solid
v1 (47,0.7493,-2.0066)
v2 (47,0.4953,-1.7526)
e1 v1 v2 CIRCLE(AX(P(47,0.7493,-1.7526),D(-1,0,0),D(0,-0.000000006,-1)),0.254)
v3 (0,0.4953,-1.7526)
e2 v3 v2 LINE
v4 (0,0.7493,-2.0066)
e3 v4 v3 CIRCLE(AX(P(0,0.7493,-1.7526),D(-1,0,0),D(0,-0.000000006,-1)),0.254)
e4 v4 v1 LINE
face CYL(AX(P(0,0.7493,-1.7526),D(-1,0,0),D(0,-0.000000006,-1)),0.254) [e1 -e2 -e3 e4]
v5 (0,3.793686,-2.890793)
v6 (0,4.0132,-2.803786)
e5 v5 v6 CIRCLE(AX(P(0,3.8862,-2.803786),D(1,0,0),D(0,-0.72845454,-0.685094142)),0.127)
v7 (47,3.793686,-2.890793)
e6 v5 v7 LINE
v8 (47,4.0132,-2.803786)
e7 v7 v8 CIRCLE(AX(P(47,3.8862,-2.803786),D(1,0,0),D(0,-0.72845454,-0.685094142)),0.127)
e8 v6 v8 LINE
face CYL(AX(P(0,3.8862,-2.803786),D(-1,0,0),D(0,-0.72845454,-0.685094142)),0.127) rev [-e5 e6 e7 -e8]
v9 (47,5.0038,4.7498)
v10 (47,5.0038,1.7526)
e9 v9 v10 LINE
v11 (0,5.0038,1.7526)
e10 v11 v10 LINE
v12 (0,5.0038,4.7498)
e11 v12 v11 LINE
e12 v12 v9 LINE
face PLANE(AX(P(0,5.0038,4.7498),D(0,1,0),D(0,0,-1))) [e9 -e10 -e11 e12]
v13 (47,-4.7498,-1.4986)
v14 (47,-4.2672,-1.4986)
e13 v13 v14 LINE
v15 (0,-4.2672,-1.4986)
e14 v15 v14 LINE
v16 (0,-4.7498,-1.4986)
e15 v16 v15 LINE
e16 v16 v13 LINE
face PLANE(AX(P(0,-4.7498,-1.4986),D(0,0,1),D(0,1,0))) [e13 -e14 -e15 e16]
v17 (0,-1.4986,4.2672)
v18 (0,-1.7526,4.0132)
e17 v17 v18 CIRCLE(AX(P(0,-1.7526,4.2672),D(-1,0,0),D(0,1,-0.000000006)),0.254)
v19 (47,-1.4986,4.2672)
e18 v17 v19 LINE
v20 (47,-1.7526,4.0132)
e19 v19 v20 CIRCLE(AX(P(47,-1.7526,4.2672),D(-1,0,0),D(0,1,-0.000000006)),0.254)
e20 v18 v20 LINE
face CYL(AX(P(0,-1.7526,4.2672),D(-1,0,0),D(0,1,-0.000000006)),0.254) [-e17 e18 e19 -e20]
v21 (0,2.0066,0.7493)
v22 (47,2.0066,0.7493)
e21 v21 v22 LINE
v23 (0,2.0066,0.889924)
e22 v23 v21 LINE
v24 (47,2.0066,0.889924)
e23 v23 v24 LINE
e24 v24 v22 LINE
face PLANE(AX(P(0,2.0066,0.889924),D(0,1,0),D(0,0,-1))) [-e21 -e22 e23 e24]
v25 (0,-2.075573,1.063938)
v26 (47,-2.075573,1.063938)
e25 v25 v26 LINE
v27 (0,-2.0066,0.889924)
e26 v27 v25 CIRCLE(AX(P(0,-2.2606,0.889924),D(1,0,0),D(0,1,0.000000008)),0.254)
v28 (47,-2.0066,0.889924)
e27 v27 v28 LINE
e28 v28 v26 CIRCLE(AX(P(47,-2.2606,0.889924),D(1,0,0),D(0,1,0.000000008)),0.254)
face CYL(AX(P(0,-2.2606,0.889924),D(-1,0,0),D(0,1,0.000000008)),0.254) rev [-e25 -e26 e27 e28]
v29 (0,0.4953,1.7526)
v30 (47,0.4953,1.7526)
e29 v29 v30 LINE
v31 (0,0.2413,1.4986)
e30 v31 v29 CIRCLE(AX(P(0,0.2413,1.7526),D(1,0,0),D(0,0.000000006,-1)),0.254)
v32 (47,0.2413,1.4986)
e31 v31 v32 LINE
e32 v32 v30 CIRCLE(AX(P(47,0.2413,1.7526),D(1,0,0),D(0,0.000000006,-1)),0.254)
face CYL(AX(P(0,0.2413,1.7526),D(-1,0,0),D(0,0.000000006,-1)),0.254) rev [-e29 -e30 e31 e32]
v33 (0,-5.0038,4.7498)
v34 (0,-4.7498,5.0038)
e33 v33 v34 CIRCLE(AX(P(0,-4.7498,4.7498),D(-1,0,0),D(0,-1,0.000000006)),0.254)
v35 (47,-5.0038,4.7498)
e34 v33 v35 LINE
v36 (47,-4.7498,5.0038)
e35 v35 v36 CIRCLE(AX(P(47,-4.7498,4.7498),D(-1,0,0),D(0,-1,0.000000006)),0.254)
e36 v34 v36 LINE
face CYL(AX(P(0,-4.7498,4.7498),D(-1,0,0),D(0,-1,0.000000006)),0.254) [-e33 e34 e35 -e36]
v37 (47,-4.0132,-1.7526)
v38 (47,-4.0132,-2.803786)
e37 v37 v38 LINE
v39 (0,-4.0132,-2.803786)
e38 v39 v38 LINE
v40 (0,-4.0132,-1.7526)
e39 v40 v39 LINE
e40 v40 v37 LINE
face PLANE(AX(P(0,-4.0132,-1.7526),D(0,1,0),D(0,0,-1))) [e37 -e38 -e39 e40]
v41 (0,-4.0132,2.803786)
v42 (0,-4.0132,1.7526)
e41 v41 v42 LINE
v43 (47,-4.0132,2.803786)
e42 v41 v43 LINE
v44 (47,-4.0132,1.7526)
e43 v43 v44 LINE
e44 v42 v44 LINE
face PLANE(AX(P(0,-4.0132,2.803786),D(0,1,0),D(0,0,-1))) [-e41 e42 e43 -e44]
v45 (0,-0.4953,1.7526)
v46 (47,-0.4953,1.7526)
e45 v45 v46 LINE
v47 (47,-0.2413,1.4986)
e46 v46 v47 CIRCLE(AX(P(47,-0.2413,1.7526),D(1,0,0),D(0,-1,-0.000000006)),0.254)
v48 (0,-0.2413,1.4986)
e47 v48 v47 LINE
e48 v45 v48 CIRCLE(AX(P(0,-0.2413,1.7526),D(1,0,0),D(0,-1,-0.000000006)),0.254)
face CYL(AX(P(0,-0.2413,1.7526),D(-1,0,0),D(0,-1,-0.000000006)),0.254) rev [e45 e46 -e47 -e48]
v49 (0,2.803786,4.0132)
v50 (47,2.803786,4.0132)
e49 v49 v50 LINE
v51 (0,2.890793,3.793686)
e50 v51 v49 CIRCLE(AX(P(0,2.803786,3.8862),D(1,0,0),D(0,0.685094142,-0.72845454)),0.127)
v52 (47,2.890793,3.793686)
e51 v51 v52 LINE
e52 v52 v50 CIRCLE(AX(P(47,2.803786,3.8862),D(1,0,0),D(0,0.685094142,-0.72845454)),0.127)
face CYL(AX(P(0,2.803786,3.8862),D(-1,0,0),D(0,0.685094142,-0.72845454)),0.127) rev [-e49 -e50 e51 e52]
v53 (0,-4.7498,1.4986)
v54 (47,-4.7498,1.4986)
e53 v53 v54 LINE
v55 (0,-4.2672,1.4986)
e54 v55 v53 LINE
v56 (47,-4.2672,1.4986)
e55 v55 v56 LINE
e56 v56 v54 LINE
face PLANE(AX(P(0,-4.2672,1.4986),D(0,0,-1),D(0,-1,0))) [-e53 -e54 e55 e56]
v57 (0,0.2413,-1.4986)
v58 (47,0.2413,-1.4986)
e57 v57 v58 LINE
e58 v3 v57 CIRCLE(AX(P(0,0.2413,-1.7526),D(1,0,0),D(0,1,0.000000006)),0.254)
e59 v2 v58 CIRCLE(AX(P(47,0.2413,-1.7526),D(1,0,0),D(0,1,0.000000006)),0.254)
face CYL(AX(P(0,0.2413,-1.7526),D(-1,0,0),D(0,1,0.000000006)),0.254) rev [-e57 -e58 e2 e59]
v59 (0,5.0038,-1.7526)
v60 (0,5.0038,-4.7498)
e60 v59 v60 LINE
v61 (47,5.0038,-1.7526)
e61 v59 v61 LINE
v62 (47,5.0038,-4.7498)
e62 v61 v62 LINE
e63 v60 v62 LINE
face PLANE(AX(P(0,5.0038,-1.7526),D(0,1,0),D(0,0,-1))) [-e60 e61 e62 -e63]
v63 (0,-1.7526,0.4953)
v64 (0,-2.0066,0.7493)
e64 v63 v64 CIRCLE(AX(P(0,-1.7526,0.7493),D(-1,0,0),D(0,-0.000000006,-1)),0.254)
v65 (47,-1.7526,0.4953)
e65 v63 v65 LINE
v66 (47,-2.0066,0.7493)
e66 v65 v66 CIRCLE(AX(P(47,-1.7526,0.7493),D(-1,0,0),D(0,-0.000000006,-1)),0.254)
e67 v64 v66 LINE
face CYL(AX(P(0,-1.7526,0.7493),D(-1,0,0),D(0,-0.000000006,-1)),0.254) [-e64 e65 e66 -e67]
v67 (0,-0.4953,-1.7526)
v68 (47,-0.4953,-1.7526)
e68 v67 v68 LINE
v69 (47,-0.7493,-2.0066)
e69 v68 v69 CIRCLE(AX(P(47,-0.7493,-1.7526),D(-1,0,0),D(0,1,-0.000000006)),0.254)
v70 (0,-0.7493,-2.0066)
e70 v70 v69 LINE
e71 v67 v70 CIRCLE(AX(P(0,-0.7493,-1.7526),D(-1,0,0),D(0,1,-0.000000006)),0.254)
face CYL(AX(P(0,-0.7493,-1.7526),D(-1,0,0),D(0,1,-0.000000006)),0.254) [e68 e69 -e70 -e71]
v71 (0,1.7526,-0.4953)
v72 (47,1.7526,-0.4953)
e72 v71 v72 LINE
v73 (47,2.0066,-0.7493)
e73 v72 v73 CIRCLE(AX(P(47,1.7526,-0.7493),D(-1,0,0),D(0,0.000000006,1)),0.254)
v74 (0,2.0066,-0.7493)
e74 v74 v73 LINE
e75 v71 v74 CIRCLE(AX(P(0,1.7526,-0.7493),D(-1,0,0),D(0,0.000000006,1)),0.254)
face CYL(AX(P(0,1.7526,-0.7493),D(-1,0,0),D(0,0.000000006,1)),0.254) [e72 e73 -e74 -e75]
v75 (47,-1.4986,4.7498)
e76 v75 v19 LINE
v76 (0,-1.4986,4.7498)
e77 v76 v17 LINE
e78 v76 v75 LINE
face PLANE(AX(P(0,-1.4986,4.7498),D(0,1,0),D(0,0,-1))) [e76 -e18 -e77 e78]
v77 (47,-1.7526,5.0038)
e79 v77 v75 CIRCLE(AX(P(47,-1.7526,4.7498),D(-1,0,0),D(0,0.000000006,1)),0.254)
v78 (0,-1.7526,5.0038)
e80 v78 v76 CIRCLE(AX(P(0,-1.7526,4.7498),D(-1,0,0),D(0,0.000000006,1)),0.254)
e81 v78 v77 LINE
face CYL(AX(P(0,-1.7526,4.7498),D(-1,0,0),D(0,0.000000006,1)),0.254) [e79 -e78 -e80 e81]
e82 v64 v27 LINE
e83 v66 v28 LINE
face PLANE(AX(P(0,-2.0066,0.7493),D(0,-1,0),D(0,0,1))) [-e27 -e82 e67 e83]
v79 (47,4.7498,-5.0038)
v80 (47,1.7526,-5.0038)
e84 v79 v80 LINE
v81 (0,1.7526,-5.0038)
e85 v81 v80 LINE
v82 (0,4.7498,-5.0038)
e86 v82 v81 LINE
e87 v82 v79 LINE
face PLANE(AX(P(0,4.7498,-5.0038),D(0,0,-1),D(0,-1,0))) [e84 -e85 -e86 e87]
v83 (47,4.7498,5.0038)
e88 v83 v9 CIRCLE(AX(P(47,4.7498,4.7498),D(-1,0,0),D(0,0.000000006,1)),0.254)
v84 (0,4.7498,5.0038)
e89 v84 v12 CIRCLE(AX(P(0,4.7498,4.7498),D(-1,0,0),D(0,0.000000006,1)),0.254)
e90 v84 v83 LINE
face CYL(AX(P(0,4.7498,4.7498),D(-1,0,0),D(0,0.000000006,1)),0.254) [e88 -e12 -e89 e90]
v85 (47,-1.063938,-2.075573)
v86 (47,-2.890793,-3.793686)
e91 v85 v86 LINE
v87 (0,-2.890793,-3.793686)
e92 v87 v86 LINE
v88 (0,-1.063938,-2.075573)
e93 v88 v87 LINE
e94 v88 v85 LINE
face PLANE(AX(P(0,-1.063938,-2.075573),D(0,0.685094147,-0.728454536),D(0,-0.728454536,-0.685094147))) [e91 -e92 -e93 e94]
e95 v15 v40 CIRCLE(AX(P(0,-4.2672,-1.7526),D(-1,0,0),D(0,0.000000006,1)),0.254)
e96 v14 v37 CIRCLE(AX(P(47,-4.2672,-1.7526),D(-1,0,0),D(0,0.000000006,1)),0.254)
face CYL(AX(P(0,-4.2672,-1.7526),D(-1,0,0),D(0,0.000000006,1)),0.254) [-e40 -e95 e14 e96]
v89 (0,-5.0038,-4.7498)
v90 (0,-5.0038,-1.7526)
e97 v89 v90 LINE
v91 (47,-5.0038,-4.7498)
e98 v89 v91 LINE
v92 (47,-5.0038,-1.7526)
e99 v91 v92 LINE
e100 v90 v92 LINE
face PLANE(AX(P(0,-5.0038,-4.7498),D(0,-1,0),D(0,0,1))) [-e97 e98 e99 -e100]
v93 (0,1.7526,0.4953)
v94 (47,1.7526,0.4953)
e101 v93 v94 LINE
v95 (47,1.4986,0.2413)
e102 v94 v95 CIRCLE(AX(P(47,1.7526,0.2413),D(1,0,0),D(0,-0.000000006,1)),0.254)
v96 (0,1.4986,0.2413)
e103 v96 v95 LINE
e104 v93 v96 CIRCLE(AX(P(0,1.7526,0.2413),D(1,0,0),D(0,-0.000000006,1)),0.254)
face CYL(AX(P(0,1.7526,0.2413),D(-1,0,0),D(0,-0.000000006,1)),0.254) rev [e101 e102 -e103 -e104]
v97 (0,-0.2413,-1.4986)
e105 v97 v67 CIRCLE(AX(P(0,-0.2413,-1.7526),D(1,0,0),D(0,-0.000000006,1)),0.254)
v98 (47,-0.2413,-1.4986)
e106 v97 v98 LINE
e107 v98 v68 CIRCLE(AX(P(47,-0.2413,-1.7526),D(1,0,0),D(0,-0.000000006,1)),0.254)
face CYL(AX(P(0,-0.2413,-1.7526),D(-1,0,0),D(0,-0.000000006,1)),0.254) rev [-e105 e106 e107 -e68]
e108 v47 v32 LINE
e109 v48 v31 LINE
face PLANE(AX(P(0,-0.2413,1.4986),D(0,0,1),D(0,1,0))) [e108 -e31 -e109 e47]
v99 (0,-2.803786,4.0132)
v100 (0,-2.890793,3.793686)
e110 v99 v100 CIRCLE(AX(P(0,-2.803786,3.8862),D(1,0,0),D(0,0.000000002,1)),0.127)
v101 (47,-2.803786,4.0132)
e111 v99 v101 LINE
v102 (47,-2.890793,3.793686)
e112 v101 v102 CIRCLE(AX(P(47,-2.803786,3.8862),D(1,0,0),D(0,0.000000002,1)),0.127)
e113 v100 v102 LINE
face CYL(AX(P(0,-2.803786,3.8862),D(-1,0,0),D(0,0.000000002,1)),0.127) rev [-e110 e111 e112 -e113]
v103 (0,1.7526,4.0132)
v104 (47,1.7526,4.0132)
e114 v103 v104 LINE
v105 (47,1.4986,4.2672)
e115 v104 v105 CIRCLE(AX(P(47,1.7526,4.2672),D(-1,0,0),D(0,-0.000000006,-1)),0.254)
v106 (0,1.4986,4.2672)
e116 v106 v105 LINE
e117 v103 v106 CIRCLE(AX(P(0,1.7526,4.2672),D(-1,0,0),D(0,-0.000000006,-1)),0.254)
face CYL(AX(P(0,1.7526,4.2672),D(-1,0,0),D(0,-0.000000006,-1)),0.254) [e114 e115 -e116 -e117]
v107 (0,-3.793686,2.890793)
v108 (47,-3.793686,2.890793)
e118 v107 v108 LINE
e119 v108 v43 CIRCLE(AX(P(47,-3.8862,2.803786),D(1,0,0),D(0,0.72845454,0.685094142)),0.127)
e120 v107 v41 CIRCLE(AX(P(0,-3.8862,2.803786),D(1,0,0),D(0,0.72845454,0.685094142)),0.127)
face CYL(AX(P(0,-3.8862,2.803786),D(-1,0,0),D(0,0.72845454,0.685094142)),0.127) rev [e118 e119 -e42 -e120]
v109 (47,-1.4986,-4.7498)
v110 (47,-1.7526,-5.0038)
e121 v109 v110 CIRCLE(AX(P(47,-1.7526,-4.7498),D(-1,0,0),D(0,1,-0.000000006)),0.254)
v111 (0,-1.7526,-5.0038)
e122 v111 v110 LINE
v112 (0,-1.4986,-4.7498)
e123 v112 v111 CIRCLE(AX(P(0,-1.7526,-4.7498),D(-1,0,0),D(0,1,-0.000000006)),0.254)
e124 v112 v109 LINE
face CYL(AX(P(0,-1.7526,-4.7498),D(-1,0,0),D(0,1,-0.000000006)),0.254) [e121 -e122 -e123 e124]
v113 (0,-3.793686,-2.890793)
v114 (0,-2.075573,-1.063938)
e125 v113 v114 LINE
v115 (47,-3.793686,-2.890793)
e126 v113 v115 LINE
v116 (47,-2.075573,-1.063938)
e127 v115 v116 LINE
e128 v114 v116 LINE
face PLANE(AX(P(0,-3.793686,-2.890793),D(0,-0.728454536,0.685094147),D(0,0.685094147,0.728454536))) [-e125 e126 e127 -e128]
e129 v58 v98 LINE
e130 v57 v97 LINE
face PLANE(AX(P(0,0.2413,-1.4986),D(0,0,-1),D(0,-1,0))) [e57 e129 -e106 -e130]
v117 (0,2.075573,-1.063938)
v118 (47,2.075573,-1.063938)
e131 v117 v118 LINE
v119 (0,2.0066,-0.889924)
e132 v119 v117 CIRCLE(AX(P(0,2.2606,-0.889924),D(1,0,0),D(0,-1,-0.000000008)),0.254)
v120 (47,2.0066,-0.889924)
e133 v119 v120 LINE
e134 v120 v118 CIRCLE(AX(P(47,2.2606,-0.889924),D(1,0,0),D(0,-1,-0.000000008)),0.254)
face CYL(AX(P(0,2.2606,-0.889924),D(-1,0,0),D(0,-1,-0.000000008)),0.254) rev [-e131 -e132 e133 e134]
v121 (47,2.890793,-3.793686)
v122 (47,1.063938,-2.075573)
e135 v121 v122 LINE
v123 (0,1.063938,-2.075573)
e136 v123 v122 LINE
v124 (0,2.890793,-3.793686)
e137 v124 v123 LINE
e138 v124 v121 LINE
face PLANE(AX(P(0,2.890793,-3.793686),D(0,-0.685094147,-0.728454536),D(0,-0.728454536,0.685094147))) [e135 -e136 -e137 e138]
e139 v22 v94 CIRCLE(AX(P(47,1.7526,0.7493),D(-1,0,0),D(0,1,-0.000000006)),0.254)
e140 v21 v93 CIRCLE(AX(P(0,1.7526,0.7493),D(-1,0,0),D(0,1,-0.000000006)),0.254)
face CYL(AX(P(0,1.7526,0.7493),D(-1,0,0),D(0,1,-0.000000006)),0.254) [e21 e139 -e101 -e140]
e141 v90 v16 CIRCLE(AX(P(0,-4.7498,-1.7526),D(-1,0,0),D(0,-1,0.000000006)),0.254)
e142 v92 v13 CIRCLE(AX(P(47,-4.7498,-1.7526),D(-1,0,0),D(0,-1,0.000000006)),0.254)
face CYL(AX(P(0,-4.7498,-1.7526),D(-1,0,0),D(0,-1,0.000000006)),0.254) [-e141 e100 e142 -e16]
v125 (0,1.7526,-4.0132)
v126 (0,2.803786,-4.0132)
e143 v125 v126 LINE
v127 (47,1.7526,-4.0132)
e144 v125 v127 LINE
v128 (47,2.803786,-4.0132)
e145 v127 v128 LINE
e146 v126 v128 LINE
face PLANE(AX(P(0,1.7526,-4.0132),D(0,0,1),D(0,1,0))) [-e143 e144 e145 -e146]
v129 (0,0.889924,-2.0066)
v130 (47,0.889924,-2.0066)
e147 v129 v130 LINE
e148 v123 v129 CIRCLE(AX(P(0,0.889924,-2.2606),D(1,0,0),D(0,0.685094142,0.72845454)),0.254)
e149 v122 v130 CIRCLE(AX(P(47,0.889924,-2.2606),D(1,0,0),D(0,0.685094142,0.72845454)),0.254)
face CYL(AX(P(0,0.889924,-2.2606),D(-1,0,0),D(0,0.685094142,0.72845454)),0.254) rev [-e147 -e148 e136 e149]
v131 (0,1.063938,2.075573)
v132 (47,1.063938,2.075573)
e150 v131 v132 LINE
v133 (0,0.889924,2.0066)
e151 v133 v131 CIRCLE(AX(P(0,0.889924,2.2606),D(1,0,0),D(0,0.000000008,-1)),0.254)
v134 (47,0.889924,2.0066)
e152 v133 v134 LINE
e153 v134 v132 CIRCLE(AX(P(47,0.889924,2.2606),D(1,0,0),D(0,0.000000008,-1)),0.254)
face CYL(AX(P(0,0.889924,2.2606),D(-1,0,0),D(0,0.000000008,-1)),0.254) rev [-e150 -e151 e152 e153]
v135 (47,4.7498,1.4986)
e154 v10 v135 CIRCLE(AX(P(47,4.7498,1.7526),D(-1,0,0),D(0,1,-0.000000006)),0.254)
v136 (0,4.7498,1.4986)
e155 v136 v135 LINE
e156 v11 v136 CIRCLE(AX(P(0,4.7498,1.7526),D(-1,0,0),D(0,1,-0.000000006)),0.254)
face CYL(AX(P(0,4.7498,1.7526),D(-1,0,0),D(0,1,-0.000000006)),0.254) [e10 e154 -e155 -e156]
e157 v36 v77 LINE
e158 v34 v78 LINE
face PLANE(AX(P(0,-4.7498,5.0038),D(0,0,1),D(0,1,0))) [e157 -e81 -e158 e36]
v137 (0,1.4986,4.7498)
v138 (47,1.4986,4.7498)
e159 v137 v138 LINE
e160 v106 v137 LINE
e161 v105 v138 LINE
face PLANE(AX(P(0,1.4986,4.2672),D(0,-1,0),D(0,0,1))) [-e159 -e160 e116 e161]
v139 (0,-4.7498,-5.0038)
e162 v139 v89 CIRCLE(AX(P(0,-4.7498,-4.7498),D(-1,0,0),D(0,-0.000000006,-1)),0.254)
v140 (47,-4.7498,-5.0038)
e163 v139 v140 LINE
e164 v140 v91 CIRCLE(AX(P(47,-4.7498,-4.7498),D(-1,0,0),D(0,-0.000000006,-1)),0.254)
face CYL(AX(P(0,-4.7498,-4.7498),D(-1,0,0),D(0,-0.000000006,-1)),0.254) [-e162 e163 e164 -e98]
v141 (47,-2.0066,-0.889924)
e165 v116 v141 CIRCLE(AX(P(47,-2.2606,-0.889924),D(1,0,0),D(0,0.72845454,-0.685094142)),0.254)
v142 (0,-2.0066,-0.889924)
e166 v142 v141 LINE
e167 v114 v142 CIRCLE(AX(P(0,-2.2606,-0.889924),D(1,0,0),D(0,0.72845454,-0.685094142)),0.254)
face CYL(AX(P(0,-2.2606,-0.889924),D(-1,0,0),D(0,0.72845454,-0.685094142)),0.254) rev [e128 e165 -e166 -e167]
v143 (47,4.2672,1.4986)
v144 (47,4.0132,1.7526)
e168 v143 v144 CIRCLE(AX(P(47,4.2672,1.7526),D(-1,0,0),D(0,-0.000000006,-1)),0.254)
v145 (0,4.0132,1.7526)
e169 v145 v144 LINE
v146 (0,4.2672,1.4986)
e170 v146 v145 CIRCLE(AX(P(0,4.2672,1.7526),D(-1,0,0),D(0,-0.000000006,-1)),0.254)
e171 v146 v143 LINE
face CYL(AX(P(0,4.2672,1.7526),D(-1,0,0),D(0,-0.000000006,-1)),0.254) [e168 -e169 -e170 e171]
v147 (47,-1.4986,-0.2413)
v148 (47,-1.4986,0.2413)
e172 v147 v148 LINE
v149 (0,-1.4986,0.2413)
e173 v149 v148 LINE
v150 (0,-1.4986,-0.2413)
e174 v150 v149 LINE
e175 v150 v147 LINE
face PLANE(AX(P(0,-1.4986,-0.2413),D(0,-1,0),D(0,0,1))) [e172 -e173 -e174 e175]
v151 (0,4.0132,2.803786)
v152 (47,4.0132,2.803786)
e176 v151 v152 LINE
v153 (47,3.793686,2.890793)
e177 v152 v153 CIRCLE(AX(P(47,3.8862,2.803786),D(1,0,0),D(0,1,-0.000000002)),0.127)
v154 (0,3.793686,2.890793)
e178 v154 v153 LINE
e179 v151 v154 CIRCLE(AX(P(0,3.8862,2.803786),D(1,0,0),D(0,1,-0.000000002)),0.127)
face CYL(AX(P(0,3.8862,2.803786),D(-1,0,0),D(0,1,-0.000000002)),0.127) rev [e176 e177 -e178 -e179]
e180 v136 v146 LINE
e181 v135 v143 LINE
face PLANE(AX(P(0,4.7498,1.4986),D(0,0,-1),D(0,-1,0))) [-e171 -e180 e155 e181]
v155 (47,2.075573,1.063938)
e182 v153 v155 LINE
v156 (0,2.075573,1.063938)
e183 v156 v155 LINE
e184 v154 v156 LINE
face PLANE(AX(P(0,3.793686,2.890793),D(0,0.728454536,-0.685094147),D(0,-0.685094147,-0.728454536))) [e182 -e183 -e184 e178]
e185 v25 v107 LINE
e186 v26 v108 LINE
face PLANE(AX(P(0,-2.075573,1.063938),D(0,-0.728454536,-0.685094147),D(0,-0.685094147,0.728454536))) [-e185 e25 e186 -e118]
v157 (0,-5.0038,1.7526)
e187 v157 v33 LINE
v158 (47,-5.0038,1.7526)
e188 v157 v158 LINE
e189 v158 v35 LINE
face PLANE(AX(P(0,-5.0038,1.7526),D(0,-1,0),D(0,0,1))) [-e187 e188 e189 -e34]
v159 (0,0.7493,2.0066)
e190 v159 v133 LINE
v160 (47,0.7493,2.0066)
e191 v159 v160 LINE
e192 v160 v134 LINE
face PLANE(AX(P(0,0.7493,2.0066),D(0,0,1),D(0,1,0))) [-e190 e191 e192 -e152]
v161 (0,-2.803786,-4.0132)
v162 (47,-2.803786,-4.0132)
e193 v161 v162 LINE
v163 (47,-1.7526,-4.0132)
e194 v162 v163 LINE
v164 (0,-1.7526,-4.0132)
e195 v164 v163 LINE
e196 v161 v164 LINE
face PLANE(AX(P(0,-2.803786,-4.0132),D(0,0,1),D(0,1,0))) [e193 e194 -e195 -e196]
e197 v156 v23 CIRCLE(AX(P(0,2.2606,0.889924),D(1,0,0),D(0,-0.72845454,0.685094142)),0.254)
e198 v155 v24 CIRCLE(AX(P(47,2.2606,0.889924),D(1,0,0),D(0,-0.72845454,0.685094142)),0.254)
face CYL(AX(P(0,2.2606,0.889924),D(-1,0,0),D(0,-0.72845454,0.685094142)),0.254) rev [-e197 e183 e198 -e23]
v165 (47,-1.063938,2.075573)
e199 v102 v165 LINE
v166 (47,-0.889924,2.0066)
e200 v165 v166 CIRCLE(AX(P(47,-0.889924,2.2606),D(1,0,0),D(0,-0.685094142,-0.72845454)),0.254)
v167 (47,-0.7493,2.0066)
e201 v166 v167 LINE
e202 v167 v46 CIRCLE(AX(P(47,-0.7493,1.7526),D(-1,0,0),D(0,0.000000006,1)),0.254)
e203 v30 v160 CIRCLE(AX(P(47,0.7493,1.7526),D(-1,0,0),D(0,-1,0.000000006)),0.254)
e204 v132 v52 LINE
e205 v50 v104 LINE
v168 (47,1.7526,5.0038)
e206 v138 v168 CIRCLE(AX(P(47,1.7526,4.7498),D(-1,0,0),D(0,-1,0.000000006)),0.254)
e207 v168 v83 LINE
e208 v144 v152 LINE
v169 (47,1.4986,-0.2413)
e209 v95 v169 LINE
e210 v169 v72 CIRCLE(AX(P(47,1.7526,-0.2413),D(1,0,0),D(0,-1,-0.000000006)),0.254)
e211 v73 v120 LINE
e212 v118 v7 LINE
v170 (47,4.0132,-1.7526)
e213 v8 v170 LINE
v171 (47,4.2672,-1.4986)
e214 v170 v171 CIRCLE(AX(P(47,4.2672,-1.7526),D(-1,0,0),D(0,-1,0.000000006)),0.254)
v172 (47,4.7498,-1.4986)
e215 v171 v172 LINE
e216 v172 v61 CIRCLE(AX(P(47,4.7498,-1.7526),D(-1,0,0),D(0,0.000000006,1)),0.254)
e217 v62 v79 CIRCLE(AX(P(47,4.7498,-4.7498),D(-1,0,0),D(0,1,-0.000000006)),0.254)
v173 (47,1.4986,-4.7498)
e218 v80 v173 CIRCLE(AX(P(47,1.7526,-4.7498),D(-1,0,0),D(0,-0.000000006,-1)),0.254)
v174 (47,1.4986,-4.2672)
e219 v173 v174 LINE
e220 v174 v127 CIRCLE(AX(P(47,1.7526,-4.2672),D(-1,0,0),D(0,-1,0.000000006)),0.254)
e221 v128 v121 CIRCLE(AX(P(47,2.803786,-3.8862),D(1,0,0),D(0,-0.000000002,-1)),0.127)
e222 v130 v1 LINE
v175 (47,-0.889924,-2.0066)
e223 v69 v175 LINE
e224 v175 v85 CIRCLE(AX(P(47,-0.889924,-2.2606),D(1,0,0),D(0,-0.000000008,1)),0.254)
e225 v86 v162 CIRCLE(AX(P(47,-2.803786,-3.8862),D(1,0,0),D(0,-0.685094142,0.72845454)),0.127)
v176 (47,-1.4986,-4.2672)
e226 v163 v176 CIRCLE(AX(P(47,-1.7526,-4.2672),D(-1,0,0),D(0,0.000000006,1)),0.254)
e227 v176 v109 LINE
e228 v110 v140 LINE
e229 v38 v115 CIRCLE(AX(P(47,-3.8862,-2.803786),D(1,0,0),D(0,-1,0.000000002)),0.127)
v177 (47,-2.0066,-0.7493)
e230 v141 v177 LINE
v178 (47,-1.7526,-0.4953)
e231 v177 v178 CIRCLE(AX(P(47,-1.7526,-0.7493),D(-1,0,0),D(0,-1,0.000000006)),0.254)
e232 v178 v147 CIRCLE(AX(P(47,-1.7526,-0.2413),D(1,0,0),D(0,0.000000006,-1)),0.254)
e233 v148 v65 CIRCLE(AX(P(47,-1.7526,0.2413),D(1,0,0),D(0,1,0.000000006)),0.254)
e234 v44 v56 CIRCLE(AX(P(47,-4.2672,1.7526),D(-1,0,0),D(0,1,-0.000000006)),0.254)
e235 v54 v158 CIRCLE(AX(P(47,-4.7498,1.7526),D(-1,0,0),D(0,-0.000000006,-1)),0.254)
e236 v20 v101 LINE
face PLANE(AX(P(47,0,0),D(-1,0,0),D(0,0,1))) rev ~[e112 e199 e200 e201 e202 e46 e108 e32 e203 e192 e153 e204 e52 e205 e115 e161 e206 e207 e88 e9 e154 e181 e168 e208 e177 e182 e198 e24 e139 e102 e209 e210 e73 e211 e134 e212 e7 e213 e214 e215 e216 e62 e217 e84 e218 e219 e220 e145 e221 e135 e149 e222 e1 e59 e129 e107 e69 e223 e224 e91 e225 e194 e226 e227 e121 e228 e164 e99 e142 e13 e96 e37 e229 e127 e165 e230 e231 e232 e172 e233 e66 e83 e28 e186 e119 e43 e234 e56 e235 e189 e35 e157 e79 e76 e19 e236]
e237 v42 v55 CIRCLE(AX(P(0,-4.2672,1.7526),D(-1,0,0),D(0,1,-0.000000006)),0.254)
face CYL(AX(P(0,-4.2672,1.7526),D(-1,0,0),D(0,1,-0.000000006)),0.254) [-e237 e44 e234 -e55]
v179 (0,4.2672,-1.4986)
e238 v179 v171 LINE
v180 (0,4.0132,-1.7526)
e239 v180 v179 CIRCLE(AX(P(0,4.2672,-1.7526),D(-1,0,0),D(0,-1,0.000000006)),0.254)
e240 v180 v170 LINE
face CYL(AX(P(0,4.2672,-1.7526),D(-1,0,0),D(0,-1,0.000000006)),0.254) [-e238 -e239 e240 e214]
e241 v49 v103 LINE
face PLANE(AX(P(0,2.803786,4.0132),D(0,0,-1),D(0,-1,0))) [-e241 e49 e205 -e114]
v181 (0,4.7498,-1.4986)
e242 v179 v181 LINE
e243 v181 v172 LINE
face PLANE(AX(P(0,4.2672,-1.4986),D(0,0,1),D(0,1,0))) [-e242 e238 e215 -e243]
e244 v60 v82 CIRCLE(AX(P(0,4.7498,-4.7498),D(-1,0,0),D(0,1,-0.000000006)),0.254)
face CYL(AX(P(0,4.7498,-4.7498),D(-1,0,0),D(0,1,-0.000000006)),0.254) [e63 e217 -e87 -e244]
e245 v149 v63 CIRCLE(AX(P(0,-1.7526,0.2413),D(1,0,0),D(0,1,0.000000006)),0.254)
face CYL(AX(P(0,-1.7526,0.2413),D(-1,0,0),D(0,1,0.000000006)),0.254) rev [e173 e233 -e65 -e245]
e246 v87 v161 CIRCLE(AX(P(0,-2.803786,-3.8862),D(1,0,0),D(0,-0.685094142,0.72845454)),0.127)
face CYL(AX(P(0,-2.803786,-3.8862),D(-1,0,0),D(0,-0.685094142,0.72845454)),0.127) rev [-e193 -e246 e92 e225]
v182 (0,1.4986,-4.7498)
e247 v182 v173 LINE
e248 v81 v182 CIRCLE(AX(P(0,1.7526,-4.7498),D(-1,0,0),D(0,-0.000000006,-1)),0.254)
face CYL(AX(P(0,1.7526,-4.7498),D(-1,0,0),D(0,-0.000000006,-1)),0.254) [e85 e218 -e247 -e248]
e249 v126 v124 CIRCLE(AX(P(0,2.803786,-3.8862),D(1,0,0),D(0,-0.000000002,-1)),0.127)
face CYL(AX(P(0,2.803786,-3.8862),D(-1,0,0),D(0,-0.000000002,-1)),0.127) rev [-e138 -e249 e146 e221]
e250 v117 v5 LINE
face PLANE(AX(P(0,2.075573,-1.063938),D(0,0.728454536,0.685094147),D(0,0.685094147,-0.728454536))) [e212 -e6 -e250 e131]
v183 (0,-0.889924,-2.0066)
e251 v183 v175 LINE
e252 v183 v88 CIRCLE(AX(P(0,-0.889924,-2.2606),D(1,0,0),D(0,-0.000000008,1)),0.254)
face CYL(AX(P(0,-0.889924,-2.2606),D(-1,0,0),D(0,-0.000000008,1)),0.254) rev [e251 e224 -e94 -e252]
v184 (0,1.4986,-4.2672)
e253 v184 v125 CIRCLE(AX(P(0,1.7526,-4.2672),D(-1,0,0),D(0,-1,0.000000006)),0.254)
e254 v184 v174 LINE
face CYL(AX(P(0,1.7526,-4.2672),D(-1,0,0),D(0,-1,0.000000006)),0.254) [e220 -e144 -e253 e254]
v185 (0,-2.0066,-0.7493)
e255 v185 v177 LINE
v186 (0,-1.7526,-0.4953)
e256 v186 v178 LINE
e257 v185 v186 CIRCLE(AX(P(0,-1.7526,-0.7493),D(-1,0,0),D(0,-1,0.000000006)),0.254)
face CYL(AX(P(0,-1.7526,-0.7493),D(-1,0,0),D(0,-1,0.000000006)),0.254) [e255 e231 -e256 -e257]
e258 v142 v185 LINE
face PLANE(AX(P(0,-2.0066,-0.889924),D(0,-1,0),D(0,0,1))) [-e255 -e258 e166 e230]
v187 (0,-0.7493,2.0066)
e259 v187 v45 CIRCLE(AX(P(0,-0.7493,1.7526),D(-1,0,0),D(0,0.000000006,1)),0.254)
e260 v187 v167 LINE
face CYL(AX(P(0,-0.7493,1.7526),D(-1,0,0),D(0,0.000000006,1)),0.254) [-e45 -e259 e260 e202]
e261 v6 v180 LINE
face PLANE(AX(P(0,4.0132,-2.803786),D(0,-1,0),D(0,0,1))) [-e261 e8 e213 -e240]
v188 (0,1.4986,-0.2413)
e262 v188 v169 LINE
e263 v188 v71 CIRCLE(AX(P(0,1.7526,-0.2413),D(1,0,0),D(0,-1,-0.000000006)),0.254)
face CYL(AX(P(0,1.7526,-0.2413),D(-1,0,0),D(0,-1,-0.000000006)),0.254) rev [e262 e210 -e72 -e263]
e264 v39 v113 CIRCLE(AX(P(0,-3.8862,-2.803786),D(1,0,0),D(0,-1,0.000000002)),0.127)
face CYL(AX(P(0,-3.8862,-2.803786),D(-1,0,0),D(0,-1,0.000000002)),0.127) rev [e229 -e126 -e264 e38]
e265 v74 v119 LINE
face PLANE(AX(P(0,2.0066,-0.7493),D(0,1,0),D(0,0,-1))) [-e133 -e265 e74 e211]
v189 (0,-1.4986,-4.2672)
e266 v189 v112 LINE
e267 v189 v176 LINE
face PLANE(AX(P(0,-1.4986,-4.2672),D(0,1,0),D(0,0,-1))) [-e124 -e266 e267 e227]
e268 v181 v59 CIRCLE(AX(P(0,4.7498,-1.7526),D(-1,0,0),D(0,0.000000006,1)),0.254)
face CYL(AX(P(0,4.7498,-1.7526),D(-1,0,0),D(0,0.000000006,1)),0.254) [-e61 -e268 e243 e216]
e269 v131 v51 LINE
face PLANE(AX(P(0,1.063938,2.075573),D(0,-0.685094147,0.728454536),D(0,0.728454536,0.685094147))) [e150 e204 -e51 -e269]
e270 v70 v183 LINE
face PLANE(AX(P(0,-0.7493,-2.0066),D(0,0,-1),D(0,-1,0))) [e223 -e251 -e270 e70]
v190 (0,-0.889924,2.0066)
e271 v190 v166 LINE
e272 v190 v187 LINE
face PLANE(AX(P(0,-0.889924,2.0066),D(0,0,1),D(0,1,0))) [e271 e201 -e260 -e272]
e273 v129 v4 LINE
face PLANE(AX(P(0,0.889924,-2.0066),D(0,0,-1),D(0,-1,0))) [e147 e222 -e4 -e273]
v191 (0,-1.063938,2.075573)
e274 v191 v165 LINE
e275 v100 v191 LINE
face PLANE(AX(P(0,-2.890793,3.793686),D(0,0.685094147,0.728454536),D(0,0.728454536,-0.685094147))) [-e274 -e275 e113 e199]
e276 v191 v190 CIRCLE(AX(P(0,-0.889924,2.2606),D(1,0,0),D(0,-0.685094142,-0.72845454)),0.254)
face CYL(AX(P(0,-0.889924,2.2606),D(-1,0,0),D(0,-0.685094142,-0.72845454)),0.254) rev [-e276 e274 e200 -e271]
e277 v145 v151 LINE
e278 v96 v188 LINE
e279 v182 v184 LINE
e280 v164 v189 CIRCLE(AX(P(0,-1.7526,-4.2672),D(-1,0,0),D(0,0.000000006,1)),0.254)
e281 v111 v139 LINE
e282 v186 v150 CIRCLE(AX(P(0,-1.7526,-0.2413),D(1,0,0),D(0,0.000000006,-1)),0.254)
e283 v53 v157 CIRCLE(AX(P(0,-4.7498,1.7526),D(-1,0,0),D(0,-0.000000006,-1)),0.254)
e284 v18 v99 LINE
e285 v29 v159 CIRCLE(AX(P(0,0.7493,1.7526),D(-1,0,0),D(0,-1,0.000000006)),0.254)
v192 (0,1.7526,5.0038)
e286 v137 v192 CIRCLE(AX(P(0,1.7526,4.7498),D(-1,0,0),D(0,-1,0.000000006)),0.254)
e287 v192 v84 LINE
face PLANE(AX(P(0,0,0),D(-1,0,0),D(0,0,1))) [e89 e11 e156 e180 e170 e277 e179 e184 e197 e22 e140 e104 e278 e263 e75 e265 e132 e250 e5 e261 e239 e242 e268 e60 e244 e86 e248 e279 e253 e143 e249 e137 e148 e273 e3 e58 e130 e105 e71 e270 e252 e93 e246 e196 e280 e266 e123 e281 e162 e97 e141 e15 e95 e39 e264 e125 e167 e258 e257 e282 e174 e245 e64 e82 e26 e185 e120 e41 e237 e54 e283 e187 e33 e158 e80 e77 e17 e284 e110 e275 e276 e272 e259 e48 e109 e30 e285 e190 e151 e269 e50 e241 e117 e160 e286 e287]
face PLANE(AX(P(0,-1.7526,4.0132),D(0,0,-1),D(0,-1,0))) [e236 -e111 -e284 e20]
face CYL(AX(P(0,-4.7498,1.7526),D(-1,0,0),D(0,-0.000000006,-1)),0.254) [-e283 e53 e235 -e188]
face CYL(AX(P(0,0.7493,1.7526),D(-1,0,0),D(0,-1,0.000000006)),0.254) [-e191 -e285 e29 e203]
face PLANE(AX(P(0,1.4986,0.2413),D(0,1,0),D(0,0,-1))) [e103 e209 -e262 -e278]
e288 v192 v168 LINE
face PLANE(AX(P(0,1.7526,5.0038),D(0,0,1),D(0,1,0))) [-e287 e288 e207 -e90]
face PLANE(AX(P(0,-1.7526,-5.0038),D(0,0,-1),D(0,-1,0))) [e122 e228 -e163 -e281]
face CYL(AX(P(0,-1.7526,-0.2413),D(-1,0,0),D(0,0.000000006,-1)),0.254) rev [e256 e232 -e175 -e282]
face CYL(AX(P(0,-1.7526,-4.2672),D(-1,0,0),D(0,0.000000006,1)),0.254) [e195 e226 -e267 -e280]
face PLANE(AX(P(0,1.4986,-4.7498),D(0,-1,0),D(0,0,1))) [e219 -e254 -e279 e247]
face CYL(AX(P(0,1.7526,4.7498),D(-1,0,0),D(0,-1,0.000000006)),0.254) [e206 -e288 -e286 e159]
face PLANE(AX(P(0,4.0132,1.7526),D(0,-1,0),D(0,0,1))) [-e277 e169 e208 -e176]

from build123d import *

# Parameters (mm, degrees)
BOSS_EXTRU_1_DEPTH = 47


with BuildPart() as part:
    # Sketch1 → Boss.-Extru.1 (new body)
    with BuildSketch(Plane(origin=(0, 0, 0), x_dir=(0, 0, -1), z_dir=(1, 0, 0))):
        with BuildLine():
            Line((-0.2413, 1.4986), (0.2413, 1.4986))
            ThreePointArc((0.2413, 1.4986), (0.420905122, 1.572994878), (0.4953, 1.7526))
            ThreePointArc((0.4953, 1.7526), (0.569694878, 1.932205122), (0.7493, 2.0066))
            Line((0.7493, 2.0066), (0.889923986, 2.0066))
            ThreePointArc((0.889923986, 2.0066), (0.983516259, 2.024471886), (1.063937899, 2.075572548))
            Line((1.063937899, 2.075572548), (2.890793, 3.793686274))
            ThreePointArc((2.890793, 3.793686274), (2.921850101, 3.932996137), (2.803786044, 4.0132))
            Line((2.803786044, 4.0132), (1.7526, 4.0132))
            ThreePointArc((1.7526, 4.0132), (1.572994878, 4.087594878), (1.4986, 4.2672))
            Line((1.4986, 4.2672), (1.4986, 4.7498))
            ThreePointArc((1.4986, 4.7498), (1.572994878, 4.929405122), (1.7526, 5.0038))
            Line((1.7526, 5.0038), (4.7498, 5.0038))
            ThreePointArc((4.7498, 5.0038), (4.929405122, 4.929405122), (5.0038, 4.7498))
            Line((5.0038, 4.7498), (5.0038, 1.7526))
            ThreePointArc((5.0038, 1.7526), (4.929405122, 1.572994878), (4.7498, 1.4986))
            Line((4.7498, 1.4986), (4.2672, 1.4986))
            ThreePointArc((4.2672, 1.4986), (4.087594878, 1.572994878), (4.0132, 1.7526))
            Line((4.0132, 1.7526), (4.0132, 2.803786044))
            ThreePointArc((4.0132, 2.803786044), (3.932996137, 2.921850101), (3.793686274, 2.890793))
            Line((3.793686274, 2.890793), (2.075572548, 1.063937899))
            ThreePointArc((2.075572548, 1.063937899), (2.024471886, 0.983516259), (2.0066, 0.889923986))
            Line((2.0066, 0.889923986), (2.0066, 0.7493))
            ThreePointArc((2.0066, 0.7493), (1.932205122, 0.569694878), (1.7526, 0.4953))
            ThreePointArc((1.7526, 0.4953), (1.572994878, 0.420905122), (1.4986, 0.2413))
            Line((1.4986, 0.2413), (1.4986, -0.2413))
            ThreePointArc((1.4986, -0.2413), (1.572994878, -0.420905122), (1.7526, -0.4953))
            ThreePointArc((1.7526, -0.4953), (1.932205122, -0.569694878), (2.0066, -0.7493))
            Line((2.0066, -0.7493), (2.0066, -0.889923986))
            ThreePointArc((2.0066, -0.889923986), (2.024471886, -0.983516259), (2.075572548, -1.063937899))
            Line((2.075572548, -1.063937899), (3.793686274, -2.890793))
            ThreePointArc((3.793686274, -2.890793), (3.932996137, -2.921850101), (4.0132, -2.803786044))
            Line((4.0132, -2.803786044), (4.0132, -1.7526))
            ThreePointArc((4.0132, -1.7526), (4.087594878, -1.572994878), (4.2672, -1.4986))
            Line((4.2672, -1.4986), (4.7498, -1.4986))
            ThreePointArc((4.7498, -1.4986), (4.929405122, -1.572994878), (5.0038, -1.7526))
            Line((5.0038, -1.7526), (5.0038, -4.7498))
            ThreePointArc((5.0038, -4.7498), (4.929405122, -4.929405122), (4.7498, -5.0038))
            Line((4.7498, -5.0038), (1.7526, -5.0038))
            ThreePointArc((1.7526, -5.0038), (1.572994878, -4.929405122), (1.4986, -4.7498))
            Line((1.4986, -4.7498), (1.4986, -4.2672))
            ThreePointArc((1.4986, -4.2672), (1.572994878, -4.087594878), (1.7526, -4.0132))
            Line((1.7526, -4.0132), (2.803786044, -4.0132))
            ThreePointArc((2.803786044, -4.0132), (2.921850101, -3.932996137), (2.890793, -3.793686274))
            Line((2.890793, -3.793686274), (1.063937899, -2.075572548))
            ThreePointArc((1.063937899, -2.075572548), (0.983516259, -2.024471886), (0.889923986, -2.0066))
            Line((0.889923986, -2.0066), (0.7493, -2.0066))
            ThreePointArc((0.7493, -2.0066), (0.569694878, -1.932205122), (0.4953, -1.7526))
            ThreePointArc((0.4953, -1.7526), (0.420905122, -1.572994878), (0.2413, -1.4986))
            Line((0.2413, -1.4986), (-0.2413, -1.4986))
            ThreePointArc((-0.2413, -1.4986), (-0.420905122, -1.572994878), (-0.4953, -1.7526))
            ThreePointArc((-0.4953, -1.7526), (-0.569694878, -1.932205122), (-0.7493, -2.0066))
            Line((-0.7493, -2.0066), (-0.889923986, -2.0066))
            ThreePointArc((-0.889923986, -2.0066), (-0.983516259, -2.024471886), (-1.063937899, -2.075572548))
            Line((-1.063937899, -2.075572548), (-2.890793, -3.793686274))
            ThreePointArc((-2.890793, -3.793686274), (-2.921850101, -3.932996137), (-2.803786044, -4.0132))
            Line((-2.803786044, -4.0132), (-1.7526, -4.0132))
            ThreePointArc((-1.7526, -4.0132), (-1.572994878, -4.087594878), (-1.4986, -4.2672))
            Line((-1.4986, -4.2672), (-1.4986, -4.7498))
            ThreePointArc((-1.4986, -4.7498), (-1.572994878, -4.929405122), (-1.7526, -5.0038))
            Line((-1.7526, -5.0038), (-4.7498, -5.0038))
            ThreePointArc((-4.7498, -5.0038), (-4.929405122, -4.929405122), (-5.0038, -4.7498))
            Line((-5.0038, -4.7498), (-5.0038, -1.7526))
            ThreePointArc((-5.0038, -1.7526), (-4.929405122, -1.572994878), (-4.7498, -1.4986))
            Line((-4.7498, -1.4986), (-4.2672, -1.4986))
            ThreePointArc((-4.2672, -1.4986), (-4.087594878, -1.572994878), (-4.0132, -1.7526))
            Line((-4.0132, -1.7526), (-4.0132, -2.803786044))
            ThreePointArc((-4.0132, -2.803786044), (-3.932996137, -2.921850101), (-3.793686274, -2.890793))
            Line((-3.793686274, -2.890793), (-2.075572548, -1.063937899))
            ThreePointArc((-2.075572548, -1.063937899), (-2.024471886, -0.983516259), (-2.0066, -0.889923986))
            Line((-2.0066, -0.889923986), (-2.0066, -0.7493))
            ThreePointArc((-2.0066, -0.7493), (-1.932205122, -0.569694878), (-1.7526, -0.4953))
            ThreePointArc((-1.7526, -0.4953), (-1.572994878, -0.420905122), (-1.4986, -0.2413))
            Line((-1.4986, -0.2413), (-1.4986, 0.2413))
            ThreePointArc((-1.4986, 0.2413), (-1.572994878, 0.420905122), (-1.7526, 0.4953))
            ThreePointArc((-1.7526, 0.4953), (-1.932205122, 0.569694878), (-2.0066, 0.7493))
            Line((-2.0066, 0.7493), (-2.0066, 0.889923986))
            ThreePointArc((-2.0066, 0.889923986), (-2.024471886, 0.983516259), (-2.075572548, 1.063937899))
            Line((-2.075572548, 1.063937899), (-3.793686274, 2.890793))
            ThreePointArc((-3.793686274, 2.890793), (-3.932996137, 2.921850101), (-4.0132, 2.803786044))
            Line((-4.0132, 2.803786044), (-4.0132, 1.7526))
            ThreePointArc((-4.0132, 1.7526), (-4.087594878, 1.572994878), (-4.2672, 1.4986))
            Line((-4.2672, 1.4986), (-4.7498, 1.4986))
            ThreePointArc((-4.7498, 1.4986), (-4.929405122, 1.572994878), (-5.0038, 1.7526))
            Line((-5.0038, 1.7526), (-5.0038, 4.7498))
            ThreePointArc((-5.0038, 4.7498), (-4.929405122, 4.929405122), (-4.7498, 5.0038))
            Line((-4.7498, 5.0038), (-1.7526, 5.0038))
            ThreePointArc((-1.7526, 5.0038), (-1.572994878, 4.929405122), (-1.4986, 4.7498))
            Line((-1.4986, 4.7498), (-1.4986, 4.2672))
            ThreePointArc((-1.4986, 4.2672), (-1.572994878, 4.087594878), (-1.7526, 4.0132))
            Line((-1.7526, 4.0132), (-2.803786044, 4.0132))
            ThreePointArc((-2.803786044, 4.0132), (-2.921850101, 3.932996137), (-2.890793, 3.793686274))
            Line((-2.890793, 3.793686274), (-1.063937899, 2.075572548))
            ThreePointArc((-1.063937899, 2.075572548), (-0.983516259, 2.024471886), (-0.889923986, 2.0066))
            Line((-0.889923986, 2.0066), (-0.7493, 2.0066))
            ThreePointArc((-0.7493, 2.0066), (-0.569694878, 1.932205122), (-0.4953, 1.7526))
            ThreePointArc((-0.4953, 1.7526), (-0.420905122, 1.572994878), (-0.2413, 1.4986))
        make_face()
    extrude(amount=BOSS_EXTRU_1_DEPTH)


solid = part.part
